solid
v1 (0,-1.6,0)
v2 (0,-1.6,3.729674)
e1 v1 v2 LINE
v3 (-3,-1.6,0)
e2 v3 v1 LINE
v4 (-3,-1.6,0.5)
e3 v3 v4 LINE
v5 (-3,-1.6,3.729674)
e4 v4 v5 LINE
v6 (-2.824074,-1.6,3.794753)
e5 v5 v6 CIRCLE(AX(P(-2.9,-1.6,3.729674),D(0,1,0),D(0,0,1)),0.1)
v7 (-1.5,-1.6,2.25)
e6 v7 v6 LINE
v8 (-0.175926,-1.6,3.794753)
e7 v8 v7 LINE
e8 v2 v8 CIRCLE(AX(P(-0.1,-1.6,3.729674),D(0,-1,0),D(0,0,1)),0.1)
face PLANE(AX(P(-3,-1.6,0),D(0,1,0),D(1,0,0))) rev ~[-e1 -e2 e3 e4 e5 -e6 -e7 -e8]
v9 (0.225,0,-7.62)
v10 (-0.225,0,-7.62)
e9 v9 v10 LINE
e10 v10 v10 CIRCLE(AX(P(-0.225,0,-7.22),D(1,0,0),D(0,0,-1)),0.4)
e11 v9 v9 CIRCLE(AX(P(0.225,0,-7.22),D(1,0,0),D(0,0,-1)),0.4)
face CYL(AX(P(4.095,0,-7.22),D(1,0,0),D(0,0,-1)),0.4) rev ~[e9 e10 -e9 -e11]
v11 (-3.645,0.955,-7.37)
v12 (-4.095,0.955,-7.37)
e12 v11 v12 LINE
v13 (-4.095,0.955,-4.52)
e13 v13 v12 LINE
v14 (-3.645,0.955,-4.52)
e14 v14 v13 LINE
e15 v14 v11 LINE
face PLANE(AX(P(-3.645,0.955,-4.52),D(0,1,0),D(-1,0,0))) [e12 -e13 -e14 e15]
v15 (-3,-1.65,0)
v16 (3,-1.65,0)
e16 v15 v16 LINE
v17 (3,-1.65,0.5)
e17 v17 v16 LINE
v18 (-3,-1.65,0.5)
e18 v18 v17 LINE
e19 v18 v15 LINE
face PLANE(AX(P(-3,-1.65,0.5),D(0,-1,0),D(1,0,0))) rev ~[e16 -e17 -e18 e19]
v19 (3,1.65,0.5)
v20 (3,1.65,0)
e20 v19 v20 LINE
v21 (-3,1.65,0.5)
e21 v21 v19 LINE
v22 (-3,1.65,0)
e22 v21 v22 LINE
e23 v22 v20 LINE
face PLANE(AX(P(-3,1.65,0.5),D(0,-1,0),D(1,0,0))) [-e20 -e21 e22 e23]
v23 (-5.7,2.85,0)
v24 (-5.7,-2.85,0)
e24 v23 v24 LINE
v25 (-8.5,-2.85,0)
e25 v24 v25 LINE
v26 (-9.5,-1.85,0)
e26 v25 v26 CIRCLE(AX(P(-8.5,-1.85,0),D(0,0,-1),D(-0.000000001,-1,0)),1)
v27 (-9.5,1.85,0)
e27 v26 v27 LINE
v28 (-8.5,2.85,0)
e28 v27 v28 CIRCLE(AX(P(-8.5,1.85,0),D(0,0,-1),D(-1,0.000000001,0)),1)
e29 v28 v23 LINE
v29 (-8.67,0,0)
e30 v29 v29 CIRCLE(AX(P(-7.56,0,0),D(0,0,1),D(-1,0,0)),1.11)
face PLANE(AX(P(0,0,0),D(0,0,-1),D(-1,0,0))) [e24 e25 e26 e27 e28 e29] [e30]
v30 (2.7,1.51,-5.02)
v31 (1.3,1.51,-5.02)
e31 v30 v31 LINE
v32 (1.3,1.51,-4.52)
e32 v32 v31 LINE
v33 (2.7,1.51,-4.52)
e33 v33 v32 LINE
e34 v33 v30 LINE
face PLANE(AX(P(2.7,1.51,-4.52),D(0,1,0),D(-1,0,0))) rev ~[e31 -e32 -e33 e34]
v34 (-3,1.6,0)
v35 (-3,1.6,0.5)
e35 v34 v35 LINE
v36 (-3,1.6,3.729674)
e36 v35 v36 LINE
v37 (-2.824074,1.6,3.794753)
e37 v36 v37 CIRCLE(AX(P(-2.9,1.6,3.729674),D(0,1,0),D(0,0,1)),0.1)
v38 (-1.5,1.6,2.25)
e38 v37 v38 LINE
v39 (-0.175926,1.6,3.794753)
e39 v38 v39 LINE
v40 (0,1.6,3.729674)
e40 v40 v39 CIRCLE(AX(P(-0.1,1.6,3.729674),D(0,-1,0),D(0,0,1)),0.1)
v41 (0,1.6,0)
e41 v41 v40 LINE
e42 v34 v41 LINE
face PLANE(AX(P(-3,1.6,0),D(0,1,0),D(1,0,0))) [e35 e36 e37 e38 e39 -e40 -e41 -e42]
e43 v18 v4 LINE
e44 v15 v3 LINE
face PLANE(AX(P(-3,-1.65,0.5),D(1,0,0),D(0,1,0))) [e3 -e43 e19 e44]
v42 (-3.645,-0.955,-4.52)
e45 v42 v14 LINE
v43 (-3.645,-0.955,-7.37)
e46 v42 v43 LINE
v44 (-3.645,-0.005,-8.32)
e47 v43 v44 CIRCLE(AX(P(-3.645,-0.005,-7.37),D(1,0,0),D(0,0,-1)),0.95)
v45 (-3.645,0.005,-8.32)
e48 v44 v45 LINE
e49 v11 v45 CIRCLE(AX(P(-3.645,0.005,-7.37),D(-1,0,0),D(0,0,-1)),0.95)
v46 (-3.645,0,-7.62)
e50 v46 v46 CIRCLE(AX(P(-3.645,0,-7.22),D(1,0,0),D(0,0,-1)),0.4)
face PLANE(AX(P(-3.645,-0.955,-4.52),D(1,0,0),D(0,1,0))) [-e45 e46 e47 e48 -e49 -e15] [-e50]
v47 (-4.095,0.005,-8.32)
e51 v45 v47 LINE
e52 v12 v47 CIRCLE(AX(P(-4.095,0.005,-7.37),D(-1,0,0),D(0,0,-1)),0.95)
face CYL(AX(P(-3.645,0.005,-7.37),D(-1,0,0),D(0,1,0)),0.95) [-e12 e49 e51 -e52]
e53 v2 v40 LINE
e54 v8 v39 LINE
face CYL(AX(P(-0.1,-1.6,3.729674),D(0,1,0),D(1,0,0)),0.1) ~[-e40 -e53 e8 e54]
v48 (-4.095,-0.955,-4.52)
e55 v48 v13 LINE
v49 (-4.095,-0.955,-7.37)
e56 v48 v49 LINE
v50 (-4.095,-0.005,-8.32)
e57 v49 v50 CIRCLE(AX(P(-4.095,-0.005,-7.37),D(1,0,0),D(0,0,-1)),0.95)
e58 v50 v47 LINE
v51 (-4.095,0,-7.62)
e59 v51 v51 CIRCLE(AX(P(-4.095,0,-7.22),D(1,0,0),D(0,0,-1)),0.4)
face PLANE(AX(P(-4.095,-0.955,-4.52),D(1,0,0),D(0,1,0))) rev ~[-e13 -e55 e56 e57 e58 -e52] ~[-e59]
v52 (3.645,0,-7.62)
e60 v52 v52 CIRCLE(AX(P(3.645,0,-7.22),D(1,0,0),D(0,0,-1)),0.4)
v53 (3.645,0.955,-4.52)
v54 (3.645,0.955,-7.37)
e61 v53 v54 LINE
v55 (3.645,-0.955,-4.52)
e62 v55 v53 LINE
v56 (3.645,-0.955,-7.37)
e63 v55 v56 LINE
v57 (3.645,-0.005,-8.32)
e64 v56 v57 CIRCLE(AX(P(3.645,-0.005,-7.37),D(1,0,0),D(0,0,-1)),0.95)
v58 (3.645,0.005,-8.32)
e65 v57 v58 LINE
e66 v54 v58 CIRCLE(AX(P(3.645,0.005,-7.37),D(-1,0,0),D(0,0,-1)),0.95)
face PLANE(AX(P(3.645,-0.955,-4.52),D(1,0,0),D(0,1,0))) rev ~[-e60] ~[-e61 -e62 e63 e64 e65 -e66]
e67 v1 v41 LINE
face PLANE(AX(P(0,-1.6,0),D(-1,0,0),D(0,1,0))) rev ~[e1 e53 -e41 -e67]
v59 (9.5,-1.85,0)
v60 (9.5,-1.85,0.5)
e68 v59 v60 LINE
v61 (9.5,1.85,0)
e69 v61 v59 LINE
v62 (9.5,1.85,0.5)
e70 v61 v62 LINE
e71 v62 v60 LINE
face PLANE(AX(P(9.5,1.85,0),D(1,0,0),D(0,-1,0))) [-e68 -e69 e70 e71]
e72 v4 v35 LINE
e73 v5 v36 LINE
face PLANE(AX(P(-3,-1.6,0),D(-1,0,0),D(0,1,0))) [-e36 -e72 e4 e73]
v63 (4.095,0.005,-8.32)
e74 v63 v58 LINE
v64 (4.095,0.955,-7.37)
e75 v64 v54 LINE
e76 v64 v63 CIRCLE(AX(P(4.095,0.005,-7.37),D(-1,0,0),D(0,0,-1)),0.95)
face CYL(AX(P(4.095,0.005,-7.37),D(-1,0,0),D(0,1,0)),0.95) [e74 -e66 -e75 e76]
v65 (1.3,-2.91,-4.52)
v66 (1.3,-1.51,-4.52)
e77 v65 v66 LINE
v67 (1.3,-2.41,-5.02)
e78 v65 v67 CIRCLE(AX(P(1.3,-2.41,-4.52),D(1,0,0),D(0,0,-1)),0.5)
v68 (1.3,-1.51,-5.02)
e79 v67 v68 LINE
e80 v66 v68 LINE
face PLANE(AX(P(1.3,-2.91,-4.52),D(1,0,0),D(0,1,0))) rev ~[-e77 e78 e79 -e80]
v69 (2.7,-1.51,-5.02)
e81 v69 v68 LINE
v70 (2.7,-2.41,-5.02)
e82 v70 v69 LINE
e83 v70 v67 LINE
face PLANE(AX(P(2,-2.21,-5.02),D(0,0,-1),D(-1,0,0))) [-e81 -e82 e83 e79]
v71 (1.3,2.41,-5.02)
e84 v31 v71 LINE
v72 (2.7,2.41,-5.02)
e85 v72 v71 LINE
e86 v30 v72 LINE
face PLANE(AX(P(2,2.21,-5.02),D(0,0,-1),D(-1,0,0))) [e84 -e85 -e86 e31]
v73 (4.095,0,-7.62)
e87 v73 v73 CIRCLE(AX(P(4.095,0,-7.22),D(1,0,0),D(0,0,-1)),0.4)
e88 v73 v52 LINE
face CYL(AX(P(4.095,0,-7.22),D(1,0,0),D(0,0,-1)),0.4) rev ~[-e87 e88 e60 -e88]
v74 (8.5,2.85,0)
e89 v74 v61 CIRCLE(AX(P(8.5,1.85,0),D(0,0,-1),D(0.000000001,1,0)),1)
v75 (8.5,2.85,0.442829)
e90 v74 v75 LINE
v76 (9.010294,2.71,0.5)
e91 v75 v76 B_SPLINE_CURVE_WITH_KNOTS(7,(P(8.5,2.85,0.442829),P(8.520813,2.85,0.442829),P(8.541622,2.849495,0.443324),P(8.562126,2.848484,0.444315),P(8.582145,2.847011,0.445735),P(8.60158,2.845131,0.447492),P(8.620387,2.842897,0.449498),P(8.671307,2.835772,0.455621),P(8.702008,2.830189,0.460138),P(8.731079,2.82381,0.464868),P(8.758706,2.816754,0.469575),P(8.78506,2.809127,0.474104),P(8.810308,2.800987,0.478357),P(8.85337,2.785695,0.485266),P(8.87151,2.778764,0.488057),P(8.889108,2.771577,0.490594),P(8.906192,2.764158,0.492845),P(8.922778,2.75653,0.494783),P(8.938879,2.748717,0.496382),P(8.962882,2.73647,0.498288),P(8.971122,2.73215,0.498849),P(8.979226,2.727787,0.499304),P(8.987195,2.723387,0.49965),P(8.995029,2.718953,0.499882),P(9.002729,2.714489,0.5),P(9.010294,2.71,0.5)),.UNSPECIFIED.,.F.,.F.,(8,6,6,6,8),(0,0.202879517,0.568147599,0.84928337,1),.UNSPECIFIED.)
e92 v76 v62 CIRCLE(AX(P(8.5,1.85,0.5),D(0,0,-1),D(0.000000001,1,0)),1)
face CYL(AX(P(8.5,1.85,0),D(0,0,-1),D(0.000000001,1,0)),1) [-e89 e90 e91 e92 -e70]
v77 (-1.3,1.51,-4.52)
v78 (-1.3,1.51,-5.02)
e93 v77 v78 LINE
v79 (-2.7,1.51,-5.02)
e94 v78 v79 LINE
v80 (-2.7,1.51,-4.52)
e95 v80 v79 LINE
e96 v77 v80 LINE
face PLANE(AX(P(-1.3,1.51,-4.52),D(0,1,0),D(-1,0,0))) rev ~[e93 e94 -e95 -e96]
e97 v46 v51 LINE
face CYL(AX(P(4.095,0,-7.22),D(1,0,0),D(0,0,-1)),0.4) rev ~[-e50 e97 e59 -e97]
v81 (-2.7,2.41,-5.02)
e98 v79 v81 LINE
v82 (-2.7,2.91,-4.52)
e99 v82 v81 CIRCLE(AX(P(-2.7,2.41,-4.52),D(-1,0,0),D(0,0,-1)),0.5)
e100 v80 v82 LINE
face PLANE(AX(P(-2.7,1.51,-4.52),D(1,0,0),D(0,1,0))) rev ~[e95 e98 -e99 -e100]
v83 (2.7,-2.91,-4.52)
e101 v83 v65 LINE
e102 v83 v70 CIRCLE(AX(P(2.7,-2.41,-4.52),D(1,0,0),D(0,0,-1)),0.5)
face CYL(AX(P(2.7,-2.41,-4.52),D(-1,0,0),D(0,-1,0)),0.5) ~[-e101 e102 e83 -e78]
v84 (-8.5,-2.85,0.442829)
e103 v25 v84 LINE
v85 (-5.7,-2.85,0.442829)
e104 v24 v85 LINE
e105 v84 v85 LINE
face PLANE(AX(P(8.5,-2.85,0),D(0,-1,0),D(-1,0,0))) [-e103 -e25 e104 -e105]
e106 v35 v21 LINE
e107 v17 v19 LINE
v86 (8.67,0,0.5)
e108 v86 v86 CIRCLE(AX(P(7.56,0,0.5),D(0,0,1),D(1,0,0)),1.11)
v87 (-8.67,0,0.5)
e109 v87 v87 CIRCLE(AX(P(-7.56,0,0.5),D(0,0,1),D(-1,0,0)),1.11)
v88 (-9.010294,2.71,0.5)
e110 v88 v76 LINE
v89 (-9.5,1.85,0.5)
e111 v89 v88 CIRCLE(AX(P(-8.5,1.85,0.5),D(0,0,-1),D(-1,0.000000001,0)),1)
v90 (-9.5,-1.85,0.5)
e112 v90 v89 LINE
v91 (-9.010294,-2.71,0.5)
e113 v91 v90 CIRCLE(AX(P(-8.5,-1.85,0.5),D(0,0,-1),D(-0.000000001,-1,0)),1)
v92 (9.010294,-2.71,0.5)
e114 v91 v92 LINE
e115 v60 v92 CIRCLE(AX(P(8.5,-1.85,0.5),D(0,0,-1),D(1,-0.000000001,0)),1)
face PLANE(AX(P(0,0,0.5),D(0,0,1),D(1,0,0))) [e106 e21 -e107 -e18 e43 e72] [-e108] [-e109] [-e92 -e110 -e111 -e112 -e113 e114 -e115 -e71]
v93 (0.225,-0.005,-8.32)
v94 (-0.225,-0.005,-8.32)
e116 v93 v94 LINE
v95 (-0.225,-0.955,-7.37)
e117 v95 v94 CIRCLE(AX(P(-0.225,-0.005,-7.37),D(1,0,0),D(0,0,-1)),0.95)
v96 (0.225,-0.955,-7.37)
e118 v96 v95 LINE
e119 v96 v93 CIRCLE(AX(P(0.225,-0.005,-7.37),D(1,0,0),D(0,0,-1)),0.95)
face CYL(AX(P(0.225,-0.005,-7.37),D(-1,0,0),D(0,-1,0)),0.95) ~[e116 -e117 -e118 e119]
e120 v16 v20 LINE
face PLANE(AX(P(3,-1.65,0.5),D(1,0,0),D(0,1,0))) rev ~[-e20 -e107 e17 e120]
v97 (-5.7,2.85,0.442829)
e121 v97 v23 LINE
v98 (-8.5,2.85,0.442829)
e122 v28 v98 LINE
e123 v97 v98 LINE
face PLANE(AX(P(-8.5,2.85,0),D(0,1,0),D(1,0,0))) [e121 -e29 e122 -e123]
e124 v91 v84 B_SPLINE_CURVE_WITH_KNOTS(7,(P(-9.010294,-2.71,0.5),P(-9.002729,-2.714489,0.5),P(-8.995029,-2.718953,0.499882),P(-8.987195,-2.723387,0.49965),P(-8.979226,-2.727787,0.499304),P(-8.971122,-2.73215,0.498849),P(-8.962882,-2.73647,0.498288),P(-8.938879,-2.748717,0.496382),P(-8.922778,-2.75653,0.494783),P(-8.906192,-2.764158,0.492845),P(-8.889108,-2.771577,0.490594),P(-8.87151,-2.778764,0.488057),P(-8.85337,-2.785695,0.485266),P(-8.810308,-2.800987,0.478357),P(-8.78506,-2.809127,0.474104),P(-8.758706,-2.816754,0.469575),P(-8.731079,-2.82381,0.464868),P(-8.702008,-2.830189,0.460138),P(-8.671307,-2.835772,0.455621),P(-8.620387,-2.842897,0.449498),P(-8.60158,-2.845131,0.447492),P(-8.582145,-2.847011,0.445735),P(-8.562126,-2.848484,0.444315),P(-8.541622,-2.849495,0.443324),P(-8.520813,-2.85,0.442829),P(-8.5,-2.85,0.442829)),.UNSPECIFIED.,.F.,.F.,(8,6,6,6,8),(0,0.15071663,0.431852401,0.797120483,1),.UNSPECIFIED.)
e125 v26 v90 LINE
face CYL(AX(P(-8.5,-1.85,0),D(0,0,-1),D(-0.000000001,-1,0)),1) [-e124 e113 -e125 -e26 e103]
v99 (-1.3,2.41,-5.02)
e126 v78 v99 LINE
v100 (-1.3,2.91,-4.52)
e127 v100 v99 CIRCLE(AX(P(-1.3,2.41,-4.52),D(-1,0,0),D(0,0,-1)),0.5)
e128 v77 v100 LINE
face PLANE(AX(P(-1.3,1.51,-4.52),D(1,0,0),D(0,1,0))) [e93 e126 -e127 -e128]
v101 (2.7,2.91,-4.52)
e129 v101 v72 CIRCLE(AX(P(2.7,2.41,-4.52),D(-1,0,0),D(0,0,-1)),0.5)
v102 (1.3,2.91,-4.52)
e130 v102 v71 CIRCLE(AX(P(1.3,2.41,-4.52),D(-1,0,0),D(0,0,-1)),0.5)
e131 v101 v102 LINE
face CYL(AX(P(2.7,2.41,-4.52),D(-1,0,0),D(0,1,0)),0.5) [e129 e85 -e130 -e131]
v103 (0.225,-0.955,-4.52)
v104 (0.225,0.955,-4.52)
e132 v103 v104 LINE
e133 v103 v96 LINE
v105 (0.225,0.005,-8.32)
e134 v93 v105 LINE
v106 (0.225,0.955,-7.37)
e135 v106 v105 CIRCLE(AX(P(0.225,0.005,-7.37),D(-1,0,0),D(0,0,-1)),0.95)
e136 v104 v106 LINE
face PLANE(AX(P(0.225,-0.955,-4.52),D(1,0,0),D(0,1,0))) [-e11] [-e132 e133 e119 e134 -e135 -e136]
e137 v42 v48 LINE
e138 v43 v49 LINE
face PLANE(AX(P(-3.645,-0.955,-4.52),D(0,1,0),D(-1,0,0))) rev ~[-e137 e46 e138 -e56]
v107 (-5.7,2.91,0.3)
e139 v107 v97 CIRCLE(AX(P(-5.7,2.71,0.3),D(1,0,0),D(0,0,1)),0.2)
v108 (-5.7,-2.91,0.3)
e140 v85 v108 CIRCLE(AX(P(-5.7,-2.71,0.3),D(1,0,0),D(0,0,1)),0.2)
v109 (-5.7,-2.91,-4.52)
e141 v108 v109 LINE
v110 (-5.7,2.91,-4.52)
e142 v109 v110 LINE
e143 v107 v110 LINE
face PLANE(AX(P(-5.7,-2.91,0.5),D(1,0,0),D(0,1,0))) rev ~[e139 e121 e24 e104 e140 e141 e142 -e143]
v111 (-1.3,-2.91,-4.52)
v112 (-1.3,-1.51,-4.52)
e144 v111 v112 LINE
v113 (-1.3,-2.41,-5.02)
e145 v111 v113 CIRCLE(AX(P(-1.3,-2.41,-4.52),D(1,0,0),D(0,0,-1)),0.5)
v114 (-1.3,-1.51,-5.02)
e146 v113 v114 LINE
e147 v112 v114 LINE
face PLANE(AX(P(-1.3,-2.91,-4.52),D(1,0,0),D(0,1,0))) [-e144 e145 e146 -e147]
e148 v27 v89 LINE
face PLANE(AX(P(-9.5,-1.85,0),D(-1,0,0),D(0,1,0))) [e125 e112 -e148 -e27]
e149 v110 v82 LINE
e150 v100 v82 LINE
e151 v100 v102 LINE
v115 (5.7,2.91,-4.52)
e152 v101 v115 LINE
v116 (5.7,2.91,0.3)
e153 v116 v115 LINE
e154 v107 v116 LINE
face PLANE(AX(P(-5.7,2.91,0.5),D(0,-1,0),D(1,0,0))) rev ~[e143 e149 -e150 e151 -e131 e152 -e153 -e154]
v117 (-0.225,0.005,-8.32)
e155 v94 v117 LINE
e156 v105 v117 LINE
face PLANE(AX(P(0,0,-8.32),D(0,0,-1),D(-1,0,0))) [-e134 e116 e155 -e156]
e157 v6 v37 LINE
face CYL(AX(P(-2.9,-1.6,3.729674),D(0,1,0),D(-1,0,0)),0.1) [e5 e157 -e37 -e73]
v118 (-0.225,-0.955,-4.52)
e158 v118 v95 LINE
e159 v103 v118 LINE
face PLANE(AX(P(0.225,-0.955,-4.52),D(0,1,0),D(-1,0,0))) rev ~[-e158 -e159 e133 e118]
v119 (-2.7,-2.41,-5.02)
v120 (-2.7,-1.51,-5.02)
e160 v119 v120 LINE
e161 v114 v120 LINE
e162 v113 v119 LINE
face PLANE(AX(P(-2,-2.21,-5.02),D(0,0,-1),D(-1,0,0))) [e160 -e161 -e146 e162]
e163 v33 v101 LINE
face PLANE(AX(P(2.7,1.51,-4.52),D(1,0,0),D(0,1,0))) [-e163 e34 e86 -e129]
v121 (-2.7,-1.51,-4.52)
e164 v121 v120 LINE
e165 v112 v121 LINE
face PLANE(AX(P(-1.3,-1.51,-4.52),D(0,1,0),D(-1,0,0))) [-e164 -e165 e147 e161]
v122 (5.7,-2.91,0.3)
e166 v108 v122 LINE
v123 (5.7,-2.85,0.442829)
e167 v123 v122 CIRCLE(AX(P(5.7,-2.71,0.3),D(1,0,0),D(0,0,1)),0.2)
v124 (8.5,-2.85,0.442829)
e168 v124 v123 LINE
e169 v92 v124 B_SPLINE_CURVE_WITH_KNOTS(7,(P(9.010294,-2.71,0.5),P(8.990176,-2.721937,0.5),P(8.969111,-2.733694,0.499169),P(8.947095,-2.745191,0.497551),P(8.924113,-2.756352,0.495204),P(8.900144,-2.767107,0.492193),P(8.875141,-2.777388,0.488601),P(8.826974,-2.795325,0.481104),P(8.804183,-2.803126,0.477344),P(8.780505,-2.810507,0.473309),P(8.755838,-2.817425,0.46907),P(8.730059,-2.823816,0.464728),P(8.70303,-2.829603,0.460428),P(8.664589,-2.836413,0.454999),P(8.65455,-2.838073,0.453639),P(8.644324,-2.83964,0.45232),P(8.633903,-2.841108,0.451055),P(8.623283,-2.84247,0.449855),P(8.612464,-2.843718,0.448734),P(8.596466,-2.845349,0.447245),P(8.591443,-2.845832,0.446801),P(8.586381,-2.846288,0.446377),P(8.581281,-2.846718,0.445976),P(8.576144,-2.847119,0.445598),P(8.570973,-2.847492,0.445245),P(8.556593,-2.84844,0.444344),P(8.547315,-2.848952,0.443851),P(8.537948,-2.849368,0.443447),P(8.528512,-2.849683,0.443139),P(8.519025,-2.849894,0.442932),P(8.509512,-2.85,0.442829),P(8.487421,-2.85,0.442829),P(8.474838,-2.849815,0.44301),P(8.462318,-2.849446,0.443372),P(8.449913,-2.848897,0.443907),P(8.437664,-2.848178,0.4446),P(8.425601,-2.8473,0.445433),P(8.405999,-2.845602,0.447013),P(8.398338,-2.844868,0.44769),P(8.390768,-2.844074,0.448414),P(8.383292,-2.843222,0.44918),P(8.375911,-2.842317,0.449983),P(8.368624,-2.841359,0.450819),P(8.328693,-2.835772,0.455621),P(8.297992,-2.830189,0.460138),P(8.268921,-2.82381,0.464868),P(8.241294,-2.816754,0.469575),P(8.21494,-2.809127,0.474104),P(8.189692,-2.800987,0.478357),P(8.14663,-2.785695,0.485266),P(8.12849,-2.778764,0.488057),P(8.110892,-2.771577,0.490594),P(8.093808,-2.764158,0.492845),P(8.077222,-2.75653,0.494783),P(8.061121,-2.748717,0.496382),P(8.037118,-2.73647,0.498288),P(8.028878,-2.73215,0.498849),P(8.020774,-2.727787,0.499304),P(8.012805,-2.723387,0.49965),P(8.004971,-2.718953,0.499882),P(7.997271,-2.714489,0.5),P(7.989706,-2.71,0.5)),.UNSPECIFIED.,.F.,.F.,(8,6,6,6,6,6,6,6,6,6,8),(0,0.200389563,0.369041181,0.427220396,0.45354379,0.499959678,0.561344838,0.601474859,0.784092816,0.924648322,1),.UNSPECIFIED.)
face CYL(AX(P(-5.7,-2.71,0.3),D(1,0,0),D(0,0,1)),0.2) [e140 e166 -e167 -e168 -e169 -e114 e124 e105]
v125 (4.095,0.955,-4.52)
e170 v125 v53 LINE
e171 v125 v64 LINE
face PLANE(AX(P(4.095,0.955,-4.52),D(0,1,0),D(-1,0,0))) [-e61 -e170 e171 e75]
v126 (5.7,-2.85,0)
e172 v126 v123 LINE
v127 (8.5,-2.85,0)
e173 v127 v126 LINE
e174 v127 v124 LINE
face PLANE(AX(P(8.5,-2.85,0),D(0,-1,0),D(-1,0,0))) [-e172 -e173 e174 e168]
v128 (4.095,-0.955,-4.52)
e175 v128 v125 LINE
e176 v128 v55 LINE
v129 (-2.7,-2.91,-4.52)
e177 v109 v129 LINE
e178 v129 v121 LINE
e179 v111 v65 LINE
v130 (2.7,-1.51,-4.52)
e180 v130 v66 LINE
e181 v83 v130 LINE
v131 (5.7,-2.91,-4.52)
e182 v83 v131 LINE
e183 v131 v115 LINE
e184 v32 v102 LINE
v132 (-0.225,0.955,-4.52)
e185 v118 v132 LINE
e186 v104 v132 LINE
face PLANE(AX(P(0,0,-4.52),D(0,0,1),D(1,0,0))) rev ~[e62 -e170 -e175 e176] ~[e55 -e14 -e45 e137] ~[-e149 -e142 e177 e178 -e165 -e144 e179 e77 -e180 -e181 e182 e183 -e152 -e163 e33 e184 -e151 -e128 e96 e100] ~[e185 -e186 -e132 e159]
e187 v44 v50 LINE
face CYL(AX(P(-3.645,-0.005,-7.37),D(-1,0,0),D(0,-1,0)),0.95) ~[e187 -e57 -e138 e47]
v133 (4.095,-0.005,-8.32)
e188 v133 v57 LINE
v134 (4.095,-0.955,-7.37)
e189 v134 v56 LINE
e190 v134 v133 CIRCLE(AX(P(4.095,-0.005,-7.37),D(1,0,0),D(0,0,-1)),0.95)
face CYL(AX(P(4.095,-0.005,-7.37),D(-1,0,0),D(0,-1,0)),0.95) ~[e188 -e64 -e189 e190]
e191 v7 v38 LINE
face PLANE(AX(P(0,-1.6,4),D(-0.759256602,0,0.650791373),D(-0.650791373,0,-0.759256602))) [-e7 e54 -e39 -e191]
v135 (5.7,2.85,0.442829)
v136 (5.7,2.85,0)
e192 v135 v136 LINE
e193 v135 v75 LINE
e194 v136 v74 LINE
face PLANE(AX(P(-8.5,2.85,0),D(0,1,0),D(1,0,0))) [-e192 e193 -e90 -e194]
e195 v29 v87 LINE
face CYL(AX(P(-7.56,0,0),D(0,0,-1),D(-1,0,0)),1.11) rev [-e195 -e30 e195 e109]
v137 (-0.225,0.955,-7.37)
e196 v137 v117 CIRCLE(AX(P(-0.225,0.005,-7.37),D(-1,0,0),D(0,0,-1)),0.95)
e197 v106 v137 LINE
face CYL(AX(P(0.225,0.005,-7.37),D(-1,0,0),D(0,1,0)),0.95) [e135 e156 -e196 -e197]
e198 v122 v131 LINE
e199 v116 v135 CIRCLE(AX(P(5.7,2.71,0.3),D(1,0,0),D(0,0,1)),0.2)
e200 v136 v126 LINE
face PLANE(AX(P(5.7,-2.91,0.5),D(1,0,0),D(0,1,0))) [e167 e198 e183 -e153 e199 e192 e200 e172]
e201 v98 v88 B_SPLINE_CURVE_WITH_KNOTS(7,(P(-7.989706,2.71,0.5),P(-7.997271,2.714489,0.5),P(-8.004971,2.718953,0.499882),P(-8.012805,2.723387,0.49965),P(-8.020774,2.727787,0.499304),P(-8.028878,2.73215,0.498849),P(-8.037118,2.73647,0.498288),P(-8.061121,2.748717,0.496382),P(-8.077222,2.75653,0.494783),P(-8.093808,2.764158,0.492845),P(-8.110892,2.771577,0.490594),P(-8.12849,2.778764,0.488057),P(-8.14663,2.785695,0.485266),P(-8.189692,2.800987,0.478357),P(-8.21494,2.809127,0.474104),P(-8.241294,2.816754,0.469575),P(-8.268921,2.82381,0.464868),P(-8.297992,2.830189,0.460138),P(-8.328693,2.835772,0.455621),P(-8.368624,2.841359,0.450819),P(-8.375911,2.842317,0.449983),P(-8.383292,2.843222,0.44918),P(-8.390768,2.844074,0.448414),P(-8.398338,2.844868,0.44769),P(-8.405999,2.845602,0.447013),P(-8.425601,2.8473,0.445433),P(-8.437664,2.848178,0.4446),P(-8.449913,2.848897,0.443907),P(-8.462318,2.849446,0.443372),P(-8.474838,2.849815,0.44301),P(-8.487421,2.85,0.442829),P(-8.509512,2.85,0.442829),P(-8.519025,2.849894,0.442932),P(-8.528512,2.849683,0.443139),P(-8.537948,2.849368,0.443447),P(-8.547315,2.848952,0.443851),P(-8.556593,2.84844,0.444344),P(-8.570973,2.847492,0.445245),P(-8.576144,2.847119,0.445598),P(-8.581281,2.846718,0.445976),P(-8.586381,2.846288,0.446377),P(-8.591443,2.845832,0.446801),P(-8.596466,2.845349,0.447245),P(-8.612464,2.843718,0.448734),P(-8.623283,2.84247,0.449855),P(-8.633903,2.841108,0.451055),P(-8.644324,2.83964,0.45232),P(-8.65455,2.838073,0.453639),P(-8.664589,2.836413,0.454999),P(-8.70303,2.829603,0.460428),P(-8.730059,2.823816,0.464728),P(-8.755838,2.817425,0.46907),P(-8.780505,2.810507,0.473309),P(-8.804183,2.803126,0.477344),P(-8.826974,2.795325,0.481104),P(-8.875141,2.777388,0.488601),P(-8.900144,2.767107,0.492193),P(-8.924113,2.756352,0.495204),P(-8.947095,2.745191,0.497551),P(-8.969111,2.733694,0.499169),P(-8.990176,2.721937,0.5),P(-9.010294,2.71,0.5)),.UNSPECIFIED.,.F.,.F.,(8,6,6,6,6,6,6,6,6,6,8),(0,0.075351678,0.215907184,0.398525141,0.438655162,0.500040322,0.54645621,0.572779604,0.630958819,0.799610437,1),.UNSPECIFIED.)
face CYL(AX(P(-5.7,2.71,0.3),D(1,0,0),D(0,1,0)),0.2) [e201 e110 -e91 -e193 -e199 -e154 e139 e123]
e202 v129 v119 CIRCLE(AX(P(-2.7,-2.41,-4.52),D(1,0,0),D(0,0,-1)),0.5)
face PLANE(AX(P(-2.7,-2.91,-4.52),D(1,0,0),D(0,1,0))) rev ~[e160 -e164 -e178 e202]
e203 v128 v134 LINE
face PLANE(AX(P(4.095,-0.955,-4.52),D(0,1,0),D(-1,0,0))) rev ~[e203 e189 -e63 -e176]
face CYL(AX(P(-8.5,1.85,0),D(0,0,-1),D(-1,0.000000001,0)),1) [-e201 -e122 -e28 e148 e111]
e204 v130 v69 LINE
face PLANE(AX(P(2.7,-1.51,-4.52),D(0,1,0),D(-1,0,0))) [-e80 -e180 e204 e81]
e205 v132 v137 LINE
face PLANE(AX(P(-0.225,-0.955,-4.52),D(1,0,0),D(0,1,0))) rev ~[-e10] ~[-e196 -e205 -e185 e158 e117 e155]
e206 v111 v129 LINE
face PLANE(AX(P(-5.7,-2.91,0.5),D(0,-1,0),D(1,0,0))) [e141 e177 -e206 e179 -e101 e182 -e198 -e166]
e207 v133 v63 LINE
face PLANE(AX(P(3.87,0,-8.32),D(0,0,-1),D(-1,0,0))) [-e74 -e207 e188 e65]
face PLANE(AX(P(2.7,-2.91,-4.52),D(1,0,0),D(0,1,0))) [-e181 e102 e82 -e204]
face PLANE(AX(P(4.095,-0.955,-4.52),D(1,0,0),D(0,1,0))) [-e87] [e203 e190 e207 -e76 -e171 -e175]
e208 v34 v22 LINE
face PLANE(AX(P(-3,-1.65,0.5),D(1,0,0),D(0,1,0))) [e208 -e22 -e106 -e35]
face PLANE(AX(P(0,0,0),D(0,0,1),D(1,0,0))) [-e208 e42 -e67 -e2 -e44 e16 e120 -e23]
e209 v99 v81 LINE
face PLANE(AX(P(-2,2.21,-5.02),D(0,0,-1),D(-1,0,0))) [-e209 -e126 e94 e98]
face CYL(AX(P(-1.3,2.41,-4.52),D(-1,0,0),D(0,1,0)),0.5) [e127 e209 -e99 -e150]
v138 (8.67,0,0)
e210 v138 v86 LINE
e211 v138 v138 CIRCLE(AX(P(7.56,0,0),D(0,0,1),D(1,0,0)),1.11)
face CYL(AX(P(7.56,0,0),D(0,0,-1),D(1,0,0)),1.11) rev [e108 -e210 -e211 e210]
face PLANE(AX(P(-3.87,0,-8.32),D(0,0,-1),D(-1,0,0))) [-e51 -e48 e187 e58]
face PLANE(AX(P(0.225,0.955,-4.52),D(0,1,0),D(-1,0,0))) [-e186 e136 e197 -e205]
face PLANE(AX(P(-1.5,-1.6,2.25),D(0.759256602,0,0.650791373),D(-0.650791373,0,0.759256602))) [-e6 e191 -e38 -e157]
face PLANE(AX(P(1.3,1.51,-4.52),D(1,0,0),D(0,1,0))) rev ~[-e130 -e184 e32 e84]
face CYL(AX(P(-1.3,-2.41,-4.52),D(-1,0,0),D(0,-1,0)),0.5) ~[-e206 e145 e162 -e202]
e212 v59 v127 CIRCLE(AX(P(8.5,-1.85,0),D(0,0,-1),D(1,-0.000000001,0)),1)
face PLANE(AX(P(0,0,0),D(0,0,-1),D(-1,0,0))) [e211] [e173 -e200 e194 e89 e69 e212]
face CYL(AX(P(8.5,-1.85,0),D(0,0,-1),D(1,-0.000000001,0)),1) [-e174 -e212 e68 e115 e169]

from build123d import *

# Parameters (mm, degrees)
ESQUISSE1_R             = 1.11
BASE_EXTRUSION_DEPTH    = 0.5
ESQUISSE2_W             = 11.4
ESQUISSE2_H             = 5.82
BOSS_EXTRU_1_DEPTH      = 5.02
ESQUISSE3_W             = 6
ESQUISSE3_H             = 3.3
ENL_V_MAT_EXTRU_1_DEPTH = 0.5
ESQUISSE4_W             = 3
ESQUISSE4_H             = 3.2
BOSS_EXTRU_2_DEPTH      = 4
ENL_V_MAT_EXTRU_2_DEPTH = 5.51
CONG_1_R                = 0.1
ESQUISSE6_W             = 0.45
ESQUISSE6_H             = 1.91
BOSS_EXTRU_3_DEPTH      = 3.8
CONG_2_R                = 0.95
ESQUISSE7_R             = 0.4
ENL_V_MAT_EXTRU_3_DEPTH = 14.595
ESQUISSE8_W             = 1.4
ESQUISSE8_H             = 1.4
BOSS_EXTRU_4_DEPTH      = 0.5
CONG_3_R                = 0.5
CONG_4_R                = 0.2


with BuildPart() as part:
    # Esquisse1 → Base-Extrusion (new body)
    with BuildSketch(Plane.XY):
        with BuildLine():
            Line((-8.5, 2.85), (8.5, 2.85))
            ThreePointArc((8.5, 2.85), (9.207106781, 2.557106781), (9.5, 1.85))
            Line((9.5, 1.85), (9.5, -1.85))
            ThreePointArc((9.5, -1.85), (9.207106781, -2.557106781), (8.5, -2.85))
            Line((8.5, -2.85), (-8.5, -2.85))
            ThreePointArc((-8.5, -2.85), (-9.207106781, -2.557106781), (-9.5, -1.85))
            Line((-9.5, -1.85), (-9.5, 1.85))
            ThreePointArc((-9.5, 1.85), (-9.207106781, 2.557106781), (-8.5, 2.85))
        make_face()
        with Locations((7.56, 0)):
            Circle(ESQUISSE1_R, mode=Mode.SUBTRACT)
        with Locations(Location((-7.56, 0, 0), (0, 0, 180))):  # turned: the seam where the file's is
            Circle(ESQUISSE1_R, mode=Mode.SUBTRACT)
    extrude(amount=BASE_EXTRUSION_DEPTH)

    # Esquisse2 → Boss.-Extru.1 (add)
    with BuildSketch(Plane.XY.offset(0.5)):
        Rectangle(ESQUISSE2_W, ESQUISSE2_H)
    extrude(amount=-BOSS_EXTRU_1_DEPTH)

    # Esquisse3 → Enlèv. mat.-Extru.1 (cut)
    with BuildSketch(Plane.XY.offset(0.5)):
        Rectangle(ESQUISSE3_W, ESQUISSE3_H)
    extrude(amount=-ENL_V_MAT_EXTRU_1_DEPTH, mode=Mode.SUBTRACT)

    # Esquisse4 → Boss.-Extru.2 (add)
    with BuildSketch(Plane.XY):
        with Locations((-1.5, 0)):
            Rectangle(ESQUISSE4_W, ESQUISSE4_H)
    extrude(amount=BOSS_EXTRU_2_DEPTH)

    # Esquisse5 → Enlèv. mat.-Extru.2 (cut, through all)
    with BuildSketch(Plane.XZ.offset(1.6)):
        Polygon((0, 4), (-1.5, 2.25), (-3, 4), (-3, 5.046492564), (0, 5.046492564), align=None)
    extrude(amount=-ENL_V_MAT_EXTRU_2_DEPTH, mode=Mode.SUBTRACT)

    # Congé1
    cong_1_edges = [part.edges().sort_by_distance(p)[0] for p in [
        (-3, 0, 4),
        (0, 0, 4),
    ]]
    fillet(cong_1_edges, radius=CONG_1_R)

    # Esquisse6 → Boss.-Extru.3 (add)
    with BuildSketch(Plane(origin=(0, 0, -4.52), x_dir=(-1, 0, 0), z_dir=(0, 0, -1))):
        Rectangle(ESQUISSE6_W, ESQUISSE6_H)
        with Locations((3.87, 0)):
            Rectangle(ESQUISSE6_W, ESQUISSE6_H)
        with Locations((-3.87, 0)):
            Rectangle(ESQUISSE6_W, ESQUISSE6_H)
    extrude(amount=BOSS_EXTRU_3_DEPTH)

    # Congé2
    cong_2_edges = [part.edges().sort_by_distance(p)[0] for p in [
        (3.87, 0.955, -8.32),
        (3.87, -0.955, -8.32),
        (0, -0.955, -8.32),
        (0, 0.955, -8.32),
        (-3.87, -0.955, -8.32),
        (-3.87, 0.955, -8.32),
    ]]
    fillet(cong_2_edges, radius=CONG_2_R)

    # Esquisse7 → Enlèv. mat.-Extru.3 (cut, through all)
    with BuildSketch(Plane(origin=(4.095, 0, 0), x_dir=(0, 0, -1), z_dir=(1, 0, 0))):
        with Locations((7.22, 0)):
            Circle(ESQUISSE7_R)
    extrude(amount=-ENL_V_MAT_EXTRU_3_DEPTH, mode=Mode.SUBTRACT)

    # Esquisse8 → Boss.-Extru.4 (add)
    with BuildSketch(Plane(origin=(0, 0, -4.52), x_dir=(-1, 0, 0), z_dir=(0, 0, -1))):
        with Locations((2, -2.21)):
            Rectangle(ESQUISSE8_W, ESQUISSE8_H)
        with Locations((2, 2.21)):
            Rectangle(ESQUISSE8_W, ESQUISSE8_H)
        with Locations((-2, 2.21)):
            Rectangle(ESQUISSE8_W, ESQUISSE8_H)
        with Locations((-2, -2.21)):
            Rectangle(ESQUISSE8_W, ESQUISSE8_H)
    extrude(amount=BOSS_EXTRU_4_DEPTH)

    # Congé3
    cong_3_edges = [part.edges().sort_by_distance(p)[0] for p in [
        (2, -2.91, -5.02),
        (-2, -2.91, -5.02),
        (-2, 2.91, -5.02),
        (2, 2.91, -5.02),
    ]]
    fillet(cong_3_edges, radius=CONG_3_R)

    # Congé4
    cong_4_edges = [part.edges().sort_by_distance(p)[0] for p in [
        (0, -2.91, 0.5),
        (0, 2.91, 0.5),
    ]]
    fillet(cong_4_edges, radius=CONG_4_R)


solid = part.part
